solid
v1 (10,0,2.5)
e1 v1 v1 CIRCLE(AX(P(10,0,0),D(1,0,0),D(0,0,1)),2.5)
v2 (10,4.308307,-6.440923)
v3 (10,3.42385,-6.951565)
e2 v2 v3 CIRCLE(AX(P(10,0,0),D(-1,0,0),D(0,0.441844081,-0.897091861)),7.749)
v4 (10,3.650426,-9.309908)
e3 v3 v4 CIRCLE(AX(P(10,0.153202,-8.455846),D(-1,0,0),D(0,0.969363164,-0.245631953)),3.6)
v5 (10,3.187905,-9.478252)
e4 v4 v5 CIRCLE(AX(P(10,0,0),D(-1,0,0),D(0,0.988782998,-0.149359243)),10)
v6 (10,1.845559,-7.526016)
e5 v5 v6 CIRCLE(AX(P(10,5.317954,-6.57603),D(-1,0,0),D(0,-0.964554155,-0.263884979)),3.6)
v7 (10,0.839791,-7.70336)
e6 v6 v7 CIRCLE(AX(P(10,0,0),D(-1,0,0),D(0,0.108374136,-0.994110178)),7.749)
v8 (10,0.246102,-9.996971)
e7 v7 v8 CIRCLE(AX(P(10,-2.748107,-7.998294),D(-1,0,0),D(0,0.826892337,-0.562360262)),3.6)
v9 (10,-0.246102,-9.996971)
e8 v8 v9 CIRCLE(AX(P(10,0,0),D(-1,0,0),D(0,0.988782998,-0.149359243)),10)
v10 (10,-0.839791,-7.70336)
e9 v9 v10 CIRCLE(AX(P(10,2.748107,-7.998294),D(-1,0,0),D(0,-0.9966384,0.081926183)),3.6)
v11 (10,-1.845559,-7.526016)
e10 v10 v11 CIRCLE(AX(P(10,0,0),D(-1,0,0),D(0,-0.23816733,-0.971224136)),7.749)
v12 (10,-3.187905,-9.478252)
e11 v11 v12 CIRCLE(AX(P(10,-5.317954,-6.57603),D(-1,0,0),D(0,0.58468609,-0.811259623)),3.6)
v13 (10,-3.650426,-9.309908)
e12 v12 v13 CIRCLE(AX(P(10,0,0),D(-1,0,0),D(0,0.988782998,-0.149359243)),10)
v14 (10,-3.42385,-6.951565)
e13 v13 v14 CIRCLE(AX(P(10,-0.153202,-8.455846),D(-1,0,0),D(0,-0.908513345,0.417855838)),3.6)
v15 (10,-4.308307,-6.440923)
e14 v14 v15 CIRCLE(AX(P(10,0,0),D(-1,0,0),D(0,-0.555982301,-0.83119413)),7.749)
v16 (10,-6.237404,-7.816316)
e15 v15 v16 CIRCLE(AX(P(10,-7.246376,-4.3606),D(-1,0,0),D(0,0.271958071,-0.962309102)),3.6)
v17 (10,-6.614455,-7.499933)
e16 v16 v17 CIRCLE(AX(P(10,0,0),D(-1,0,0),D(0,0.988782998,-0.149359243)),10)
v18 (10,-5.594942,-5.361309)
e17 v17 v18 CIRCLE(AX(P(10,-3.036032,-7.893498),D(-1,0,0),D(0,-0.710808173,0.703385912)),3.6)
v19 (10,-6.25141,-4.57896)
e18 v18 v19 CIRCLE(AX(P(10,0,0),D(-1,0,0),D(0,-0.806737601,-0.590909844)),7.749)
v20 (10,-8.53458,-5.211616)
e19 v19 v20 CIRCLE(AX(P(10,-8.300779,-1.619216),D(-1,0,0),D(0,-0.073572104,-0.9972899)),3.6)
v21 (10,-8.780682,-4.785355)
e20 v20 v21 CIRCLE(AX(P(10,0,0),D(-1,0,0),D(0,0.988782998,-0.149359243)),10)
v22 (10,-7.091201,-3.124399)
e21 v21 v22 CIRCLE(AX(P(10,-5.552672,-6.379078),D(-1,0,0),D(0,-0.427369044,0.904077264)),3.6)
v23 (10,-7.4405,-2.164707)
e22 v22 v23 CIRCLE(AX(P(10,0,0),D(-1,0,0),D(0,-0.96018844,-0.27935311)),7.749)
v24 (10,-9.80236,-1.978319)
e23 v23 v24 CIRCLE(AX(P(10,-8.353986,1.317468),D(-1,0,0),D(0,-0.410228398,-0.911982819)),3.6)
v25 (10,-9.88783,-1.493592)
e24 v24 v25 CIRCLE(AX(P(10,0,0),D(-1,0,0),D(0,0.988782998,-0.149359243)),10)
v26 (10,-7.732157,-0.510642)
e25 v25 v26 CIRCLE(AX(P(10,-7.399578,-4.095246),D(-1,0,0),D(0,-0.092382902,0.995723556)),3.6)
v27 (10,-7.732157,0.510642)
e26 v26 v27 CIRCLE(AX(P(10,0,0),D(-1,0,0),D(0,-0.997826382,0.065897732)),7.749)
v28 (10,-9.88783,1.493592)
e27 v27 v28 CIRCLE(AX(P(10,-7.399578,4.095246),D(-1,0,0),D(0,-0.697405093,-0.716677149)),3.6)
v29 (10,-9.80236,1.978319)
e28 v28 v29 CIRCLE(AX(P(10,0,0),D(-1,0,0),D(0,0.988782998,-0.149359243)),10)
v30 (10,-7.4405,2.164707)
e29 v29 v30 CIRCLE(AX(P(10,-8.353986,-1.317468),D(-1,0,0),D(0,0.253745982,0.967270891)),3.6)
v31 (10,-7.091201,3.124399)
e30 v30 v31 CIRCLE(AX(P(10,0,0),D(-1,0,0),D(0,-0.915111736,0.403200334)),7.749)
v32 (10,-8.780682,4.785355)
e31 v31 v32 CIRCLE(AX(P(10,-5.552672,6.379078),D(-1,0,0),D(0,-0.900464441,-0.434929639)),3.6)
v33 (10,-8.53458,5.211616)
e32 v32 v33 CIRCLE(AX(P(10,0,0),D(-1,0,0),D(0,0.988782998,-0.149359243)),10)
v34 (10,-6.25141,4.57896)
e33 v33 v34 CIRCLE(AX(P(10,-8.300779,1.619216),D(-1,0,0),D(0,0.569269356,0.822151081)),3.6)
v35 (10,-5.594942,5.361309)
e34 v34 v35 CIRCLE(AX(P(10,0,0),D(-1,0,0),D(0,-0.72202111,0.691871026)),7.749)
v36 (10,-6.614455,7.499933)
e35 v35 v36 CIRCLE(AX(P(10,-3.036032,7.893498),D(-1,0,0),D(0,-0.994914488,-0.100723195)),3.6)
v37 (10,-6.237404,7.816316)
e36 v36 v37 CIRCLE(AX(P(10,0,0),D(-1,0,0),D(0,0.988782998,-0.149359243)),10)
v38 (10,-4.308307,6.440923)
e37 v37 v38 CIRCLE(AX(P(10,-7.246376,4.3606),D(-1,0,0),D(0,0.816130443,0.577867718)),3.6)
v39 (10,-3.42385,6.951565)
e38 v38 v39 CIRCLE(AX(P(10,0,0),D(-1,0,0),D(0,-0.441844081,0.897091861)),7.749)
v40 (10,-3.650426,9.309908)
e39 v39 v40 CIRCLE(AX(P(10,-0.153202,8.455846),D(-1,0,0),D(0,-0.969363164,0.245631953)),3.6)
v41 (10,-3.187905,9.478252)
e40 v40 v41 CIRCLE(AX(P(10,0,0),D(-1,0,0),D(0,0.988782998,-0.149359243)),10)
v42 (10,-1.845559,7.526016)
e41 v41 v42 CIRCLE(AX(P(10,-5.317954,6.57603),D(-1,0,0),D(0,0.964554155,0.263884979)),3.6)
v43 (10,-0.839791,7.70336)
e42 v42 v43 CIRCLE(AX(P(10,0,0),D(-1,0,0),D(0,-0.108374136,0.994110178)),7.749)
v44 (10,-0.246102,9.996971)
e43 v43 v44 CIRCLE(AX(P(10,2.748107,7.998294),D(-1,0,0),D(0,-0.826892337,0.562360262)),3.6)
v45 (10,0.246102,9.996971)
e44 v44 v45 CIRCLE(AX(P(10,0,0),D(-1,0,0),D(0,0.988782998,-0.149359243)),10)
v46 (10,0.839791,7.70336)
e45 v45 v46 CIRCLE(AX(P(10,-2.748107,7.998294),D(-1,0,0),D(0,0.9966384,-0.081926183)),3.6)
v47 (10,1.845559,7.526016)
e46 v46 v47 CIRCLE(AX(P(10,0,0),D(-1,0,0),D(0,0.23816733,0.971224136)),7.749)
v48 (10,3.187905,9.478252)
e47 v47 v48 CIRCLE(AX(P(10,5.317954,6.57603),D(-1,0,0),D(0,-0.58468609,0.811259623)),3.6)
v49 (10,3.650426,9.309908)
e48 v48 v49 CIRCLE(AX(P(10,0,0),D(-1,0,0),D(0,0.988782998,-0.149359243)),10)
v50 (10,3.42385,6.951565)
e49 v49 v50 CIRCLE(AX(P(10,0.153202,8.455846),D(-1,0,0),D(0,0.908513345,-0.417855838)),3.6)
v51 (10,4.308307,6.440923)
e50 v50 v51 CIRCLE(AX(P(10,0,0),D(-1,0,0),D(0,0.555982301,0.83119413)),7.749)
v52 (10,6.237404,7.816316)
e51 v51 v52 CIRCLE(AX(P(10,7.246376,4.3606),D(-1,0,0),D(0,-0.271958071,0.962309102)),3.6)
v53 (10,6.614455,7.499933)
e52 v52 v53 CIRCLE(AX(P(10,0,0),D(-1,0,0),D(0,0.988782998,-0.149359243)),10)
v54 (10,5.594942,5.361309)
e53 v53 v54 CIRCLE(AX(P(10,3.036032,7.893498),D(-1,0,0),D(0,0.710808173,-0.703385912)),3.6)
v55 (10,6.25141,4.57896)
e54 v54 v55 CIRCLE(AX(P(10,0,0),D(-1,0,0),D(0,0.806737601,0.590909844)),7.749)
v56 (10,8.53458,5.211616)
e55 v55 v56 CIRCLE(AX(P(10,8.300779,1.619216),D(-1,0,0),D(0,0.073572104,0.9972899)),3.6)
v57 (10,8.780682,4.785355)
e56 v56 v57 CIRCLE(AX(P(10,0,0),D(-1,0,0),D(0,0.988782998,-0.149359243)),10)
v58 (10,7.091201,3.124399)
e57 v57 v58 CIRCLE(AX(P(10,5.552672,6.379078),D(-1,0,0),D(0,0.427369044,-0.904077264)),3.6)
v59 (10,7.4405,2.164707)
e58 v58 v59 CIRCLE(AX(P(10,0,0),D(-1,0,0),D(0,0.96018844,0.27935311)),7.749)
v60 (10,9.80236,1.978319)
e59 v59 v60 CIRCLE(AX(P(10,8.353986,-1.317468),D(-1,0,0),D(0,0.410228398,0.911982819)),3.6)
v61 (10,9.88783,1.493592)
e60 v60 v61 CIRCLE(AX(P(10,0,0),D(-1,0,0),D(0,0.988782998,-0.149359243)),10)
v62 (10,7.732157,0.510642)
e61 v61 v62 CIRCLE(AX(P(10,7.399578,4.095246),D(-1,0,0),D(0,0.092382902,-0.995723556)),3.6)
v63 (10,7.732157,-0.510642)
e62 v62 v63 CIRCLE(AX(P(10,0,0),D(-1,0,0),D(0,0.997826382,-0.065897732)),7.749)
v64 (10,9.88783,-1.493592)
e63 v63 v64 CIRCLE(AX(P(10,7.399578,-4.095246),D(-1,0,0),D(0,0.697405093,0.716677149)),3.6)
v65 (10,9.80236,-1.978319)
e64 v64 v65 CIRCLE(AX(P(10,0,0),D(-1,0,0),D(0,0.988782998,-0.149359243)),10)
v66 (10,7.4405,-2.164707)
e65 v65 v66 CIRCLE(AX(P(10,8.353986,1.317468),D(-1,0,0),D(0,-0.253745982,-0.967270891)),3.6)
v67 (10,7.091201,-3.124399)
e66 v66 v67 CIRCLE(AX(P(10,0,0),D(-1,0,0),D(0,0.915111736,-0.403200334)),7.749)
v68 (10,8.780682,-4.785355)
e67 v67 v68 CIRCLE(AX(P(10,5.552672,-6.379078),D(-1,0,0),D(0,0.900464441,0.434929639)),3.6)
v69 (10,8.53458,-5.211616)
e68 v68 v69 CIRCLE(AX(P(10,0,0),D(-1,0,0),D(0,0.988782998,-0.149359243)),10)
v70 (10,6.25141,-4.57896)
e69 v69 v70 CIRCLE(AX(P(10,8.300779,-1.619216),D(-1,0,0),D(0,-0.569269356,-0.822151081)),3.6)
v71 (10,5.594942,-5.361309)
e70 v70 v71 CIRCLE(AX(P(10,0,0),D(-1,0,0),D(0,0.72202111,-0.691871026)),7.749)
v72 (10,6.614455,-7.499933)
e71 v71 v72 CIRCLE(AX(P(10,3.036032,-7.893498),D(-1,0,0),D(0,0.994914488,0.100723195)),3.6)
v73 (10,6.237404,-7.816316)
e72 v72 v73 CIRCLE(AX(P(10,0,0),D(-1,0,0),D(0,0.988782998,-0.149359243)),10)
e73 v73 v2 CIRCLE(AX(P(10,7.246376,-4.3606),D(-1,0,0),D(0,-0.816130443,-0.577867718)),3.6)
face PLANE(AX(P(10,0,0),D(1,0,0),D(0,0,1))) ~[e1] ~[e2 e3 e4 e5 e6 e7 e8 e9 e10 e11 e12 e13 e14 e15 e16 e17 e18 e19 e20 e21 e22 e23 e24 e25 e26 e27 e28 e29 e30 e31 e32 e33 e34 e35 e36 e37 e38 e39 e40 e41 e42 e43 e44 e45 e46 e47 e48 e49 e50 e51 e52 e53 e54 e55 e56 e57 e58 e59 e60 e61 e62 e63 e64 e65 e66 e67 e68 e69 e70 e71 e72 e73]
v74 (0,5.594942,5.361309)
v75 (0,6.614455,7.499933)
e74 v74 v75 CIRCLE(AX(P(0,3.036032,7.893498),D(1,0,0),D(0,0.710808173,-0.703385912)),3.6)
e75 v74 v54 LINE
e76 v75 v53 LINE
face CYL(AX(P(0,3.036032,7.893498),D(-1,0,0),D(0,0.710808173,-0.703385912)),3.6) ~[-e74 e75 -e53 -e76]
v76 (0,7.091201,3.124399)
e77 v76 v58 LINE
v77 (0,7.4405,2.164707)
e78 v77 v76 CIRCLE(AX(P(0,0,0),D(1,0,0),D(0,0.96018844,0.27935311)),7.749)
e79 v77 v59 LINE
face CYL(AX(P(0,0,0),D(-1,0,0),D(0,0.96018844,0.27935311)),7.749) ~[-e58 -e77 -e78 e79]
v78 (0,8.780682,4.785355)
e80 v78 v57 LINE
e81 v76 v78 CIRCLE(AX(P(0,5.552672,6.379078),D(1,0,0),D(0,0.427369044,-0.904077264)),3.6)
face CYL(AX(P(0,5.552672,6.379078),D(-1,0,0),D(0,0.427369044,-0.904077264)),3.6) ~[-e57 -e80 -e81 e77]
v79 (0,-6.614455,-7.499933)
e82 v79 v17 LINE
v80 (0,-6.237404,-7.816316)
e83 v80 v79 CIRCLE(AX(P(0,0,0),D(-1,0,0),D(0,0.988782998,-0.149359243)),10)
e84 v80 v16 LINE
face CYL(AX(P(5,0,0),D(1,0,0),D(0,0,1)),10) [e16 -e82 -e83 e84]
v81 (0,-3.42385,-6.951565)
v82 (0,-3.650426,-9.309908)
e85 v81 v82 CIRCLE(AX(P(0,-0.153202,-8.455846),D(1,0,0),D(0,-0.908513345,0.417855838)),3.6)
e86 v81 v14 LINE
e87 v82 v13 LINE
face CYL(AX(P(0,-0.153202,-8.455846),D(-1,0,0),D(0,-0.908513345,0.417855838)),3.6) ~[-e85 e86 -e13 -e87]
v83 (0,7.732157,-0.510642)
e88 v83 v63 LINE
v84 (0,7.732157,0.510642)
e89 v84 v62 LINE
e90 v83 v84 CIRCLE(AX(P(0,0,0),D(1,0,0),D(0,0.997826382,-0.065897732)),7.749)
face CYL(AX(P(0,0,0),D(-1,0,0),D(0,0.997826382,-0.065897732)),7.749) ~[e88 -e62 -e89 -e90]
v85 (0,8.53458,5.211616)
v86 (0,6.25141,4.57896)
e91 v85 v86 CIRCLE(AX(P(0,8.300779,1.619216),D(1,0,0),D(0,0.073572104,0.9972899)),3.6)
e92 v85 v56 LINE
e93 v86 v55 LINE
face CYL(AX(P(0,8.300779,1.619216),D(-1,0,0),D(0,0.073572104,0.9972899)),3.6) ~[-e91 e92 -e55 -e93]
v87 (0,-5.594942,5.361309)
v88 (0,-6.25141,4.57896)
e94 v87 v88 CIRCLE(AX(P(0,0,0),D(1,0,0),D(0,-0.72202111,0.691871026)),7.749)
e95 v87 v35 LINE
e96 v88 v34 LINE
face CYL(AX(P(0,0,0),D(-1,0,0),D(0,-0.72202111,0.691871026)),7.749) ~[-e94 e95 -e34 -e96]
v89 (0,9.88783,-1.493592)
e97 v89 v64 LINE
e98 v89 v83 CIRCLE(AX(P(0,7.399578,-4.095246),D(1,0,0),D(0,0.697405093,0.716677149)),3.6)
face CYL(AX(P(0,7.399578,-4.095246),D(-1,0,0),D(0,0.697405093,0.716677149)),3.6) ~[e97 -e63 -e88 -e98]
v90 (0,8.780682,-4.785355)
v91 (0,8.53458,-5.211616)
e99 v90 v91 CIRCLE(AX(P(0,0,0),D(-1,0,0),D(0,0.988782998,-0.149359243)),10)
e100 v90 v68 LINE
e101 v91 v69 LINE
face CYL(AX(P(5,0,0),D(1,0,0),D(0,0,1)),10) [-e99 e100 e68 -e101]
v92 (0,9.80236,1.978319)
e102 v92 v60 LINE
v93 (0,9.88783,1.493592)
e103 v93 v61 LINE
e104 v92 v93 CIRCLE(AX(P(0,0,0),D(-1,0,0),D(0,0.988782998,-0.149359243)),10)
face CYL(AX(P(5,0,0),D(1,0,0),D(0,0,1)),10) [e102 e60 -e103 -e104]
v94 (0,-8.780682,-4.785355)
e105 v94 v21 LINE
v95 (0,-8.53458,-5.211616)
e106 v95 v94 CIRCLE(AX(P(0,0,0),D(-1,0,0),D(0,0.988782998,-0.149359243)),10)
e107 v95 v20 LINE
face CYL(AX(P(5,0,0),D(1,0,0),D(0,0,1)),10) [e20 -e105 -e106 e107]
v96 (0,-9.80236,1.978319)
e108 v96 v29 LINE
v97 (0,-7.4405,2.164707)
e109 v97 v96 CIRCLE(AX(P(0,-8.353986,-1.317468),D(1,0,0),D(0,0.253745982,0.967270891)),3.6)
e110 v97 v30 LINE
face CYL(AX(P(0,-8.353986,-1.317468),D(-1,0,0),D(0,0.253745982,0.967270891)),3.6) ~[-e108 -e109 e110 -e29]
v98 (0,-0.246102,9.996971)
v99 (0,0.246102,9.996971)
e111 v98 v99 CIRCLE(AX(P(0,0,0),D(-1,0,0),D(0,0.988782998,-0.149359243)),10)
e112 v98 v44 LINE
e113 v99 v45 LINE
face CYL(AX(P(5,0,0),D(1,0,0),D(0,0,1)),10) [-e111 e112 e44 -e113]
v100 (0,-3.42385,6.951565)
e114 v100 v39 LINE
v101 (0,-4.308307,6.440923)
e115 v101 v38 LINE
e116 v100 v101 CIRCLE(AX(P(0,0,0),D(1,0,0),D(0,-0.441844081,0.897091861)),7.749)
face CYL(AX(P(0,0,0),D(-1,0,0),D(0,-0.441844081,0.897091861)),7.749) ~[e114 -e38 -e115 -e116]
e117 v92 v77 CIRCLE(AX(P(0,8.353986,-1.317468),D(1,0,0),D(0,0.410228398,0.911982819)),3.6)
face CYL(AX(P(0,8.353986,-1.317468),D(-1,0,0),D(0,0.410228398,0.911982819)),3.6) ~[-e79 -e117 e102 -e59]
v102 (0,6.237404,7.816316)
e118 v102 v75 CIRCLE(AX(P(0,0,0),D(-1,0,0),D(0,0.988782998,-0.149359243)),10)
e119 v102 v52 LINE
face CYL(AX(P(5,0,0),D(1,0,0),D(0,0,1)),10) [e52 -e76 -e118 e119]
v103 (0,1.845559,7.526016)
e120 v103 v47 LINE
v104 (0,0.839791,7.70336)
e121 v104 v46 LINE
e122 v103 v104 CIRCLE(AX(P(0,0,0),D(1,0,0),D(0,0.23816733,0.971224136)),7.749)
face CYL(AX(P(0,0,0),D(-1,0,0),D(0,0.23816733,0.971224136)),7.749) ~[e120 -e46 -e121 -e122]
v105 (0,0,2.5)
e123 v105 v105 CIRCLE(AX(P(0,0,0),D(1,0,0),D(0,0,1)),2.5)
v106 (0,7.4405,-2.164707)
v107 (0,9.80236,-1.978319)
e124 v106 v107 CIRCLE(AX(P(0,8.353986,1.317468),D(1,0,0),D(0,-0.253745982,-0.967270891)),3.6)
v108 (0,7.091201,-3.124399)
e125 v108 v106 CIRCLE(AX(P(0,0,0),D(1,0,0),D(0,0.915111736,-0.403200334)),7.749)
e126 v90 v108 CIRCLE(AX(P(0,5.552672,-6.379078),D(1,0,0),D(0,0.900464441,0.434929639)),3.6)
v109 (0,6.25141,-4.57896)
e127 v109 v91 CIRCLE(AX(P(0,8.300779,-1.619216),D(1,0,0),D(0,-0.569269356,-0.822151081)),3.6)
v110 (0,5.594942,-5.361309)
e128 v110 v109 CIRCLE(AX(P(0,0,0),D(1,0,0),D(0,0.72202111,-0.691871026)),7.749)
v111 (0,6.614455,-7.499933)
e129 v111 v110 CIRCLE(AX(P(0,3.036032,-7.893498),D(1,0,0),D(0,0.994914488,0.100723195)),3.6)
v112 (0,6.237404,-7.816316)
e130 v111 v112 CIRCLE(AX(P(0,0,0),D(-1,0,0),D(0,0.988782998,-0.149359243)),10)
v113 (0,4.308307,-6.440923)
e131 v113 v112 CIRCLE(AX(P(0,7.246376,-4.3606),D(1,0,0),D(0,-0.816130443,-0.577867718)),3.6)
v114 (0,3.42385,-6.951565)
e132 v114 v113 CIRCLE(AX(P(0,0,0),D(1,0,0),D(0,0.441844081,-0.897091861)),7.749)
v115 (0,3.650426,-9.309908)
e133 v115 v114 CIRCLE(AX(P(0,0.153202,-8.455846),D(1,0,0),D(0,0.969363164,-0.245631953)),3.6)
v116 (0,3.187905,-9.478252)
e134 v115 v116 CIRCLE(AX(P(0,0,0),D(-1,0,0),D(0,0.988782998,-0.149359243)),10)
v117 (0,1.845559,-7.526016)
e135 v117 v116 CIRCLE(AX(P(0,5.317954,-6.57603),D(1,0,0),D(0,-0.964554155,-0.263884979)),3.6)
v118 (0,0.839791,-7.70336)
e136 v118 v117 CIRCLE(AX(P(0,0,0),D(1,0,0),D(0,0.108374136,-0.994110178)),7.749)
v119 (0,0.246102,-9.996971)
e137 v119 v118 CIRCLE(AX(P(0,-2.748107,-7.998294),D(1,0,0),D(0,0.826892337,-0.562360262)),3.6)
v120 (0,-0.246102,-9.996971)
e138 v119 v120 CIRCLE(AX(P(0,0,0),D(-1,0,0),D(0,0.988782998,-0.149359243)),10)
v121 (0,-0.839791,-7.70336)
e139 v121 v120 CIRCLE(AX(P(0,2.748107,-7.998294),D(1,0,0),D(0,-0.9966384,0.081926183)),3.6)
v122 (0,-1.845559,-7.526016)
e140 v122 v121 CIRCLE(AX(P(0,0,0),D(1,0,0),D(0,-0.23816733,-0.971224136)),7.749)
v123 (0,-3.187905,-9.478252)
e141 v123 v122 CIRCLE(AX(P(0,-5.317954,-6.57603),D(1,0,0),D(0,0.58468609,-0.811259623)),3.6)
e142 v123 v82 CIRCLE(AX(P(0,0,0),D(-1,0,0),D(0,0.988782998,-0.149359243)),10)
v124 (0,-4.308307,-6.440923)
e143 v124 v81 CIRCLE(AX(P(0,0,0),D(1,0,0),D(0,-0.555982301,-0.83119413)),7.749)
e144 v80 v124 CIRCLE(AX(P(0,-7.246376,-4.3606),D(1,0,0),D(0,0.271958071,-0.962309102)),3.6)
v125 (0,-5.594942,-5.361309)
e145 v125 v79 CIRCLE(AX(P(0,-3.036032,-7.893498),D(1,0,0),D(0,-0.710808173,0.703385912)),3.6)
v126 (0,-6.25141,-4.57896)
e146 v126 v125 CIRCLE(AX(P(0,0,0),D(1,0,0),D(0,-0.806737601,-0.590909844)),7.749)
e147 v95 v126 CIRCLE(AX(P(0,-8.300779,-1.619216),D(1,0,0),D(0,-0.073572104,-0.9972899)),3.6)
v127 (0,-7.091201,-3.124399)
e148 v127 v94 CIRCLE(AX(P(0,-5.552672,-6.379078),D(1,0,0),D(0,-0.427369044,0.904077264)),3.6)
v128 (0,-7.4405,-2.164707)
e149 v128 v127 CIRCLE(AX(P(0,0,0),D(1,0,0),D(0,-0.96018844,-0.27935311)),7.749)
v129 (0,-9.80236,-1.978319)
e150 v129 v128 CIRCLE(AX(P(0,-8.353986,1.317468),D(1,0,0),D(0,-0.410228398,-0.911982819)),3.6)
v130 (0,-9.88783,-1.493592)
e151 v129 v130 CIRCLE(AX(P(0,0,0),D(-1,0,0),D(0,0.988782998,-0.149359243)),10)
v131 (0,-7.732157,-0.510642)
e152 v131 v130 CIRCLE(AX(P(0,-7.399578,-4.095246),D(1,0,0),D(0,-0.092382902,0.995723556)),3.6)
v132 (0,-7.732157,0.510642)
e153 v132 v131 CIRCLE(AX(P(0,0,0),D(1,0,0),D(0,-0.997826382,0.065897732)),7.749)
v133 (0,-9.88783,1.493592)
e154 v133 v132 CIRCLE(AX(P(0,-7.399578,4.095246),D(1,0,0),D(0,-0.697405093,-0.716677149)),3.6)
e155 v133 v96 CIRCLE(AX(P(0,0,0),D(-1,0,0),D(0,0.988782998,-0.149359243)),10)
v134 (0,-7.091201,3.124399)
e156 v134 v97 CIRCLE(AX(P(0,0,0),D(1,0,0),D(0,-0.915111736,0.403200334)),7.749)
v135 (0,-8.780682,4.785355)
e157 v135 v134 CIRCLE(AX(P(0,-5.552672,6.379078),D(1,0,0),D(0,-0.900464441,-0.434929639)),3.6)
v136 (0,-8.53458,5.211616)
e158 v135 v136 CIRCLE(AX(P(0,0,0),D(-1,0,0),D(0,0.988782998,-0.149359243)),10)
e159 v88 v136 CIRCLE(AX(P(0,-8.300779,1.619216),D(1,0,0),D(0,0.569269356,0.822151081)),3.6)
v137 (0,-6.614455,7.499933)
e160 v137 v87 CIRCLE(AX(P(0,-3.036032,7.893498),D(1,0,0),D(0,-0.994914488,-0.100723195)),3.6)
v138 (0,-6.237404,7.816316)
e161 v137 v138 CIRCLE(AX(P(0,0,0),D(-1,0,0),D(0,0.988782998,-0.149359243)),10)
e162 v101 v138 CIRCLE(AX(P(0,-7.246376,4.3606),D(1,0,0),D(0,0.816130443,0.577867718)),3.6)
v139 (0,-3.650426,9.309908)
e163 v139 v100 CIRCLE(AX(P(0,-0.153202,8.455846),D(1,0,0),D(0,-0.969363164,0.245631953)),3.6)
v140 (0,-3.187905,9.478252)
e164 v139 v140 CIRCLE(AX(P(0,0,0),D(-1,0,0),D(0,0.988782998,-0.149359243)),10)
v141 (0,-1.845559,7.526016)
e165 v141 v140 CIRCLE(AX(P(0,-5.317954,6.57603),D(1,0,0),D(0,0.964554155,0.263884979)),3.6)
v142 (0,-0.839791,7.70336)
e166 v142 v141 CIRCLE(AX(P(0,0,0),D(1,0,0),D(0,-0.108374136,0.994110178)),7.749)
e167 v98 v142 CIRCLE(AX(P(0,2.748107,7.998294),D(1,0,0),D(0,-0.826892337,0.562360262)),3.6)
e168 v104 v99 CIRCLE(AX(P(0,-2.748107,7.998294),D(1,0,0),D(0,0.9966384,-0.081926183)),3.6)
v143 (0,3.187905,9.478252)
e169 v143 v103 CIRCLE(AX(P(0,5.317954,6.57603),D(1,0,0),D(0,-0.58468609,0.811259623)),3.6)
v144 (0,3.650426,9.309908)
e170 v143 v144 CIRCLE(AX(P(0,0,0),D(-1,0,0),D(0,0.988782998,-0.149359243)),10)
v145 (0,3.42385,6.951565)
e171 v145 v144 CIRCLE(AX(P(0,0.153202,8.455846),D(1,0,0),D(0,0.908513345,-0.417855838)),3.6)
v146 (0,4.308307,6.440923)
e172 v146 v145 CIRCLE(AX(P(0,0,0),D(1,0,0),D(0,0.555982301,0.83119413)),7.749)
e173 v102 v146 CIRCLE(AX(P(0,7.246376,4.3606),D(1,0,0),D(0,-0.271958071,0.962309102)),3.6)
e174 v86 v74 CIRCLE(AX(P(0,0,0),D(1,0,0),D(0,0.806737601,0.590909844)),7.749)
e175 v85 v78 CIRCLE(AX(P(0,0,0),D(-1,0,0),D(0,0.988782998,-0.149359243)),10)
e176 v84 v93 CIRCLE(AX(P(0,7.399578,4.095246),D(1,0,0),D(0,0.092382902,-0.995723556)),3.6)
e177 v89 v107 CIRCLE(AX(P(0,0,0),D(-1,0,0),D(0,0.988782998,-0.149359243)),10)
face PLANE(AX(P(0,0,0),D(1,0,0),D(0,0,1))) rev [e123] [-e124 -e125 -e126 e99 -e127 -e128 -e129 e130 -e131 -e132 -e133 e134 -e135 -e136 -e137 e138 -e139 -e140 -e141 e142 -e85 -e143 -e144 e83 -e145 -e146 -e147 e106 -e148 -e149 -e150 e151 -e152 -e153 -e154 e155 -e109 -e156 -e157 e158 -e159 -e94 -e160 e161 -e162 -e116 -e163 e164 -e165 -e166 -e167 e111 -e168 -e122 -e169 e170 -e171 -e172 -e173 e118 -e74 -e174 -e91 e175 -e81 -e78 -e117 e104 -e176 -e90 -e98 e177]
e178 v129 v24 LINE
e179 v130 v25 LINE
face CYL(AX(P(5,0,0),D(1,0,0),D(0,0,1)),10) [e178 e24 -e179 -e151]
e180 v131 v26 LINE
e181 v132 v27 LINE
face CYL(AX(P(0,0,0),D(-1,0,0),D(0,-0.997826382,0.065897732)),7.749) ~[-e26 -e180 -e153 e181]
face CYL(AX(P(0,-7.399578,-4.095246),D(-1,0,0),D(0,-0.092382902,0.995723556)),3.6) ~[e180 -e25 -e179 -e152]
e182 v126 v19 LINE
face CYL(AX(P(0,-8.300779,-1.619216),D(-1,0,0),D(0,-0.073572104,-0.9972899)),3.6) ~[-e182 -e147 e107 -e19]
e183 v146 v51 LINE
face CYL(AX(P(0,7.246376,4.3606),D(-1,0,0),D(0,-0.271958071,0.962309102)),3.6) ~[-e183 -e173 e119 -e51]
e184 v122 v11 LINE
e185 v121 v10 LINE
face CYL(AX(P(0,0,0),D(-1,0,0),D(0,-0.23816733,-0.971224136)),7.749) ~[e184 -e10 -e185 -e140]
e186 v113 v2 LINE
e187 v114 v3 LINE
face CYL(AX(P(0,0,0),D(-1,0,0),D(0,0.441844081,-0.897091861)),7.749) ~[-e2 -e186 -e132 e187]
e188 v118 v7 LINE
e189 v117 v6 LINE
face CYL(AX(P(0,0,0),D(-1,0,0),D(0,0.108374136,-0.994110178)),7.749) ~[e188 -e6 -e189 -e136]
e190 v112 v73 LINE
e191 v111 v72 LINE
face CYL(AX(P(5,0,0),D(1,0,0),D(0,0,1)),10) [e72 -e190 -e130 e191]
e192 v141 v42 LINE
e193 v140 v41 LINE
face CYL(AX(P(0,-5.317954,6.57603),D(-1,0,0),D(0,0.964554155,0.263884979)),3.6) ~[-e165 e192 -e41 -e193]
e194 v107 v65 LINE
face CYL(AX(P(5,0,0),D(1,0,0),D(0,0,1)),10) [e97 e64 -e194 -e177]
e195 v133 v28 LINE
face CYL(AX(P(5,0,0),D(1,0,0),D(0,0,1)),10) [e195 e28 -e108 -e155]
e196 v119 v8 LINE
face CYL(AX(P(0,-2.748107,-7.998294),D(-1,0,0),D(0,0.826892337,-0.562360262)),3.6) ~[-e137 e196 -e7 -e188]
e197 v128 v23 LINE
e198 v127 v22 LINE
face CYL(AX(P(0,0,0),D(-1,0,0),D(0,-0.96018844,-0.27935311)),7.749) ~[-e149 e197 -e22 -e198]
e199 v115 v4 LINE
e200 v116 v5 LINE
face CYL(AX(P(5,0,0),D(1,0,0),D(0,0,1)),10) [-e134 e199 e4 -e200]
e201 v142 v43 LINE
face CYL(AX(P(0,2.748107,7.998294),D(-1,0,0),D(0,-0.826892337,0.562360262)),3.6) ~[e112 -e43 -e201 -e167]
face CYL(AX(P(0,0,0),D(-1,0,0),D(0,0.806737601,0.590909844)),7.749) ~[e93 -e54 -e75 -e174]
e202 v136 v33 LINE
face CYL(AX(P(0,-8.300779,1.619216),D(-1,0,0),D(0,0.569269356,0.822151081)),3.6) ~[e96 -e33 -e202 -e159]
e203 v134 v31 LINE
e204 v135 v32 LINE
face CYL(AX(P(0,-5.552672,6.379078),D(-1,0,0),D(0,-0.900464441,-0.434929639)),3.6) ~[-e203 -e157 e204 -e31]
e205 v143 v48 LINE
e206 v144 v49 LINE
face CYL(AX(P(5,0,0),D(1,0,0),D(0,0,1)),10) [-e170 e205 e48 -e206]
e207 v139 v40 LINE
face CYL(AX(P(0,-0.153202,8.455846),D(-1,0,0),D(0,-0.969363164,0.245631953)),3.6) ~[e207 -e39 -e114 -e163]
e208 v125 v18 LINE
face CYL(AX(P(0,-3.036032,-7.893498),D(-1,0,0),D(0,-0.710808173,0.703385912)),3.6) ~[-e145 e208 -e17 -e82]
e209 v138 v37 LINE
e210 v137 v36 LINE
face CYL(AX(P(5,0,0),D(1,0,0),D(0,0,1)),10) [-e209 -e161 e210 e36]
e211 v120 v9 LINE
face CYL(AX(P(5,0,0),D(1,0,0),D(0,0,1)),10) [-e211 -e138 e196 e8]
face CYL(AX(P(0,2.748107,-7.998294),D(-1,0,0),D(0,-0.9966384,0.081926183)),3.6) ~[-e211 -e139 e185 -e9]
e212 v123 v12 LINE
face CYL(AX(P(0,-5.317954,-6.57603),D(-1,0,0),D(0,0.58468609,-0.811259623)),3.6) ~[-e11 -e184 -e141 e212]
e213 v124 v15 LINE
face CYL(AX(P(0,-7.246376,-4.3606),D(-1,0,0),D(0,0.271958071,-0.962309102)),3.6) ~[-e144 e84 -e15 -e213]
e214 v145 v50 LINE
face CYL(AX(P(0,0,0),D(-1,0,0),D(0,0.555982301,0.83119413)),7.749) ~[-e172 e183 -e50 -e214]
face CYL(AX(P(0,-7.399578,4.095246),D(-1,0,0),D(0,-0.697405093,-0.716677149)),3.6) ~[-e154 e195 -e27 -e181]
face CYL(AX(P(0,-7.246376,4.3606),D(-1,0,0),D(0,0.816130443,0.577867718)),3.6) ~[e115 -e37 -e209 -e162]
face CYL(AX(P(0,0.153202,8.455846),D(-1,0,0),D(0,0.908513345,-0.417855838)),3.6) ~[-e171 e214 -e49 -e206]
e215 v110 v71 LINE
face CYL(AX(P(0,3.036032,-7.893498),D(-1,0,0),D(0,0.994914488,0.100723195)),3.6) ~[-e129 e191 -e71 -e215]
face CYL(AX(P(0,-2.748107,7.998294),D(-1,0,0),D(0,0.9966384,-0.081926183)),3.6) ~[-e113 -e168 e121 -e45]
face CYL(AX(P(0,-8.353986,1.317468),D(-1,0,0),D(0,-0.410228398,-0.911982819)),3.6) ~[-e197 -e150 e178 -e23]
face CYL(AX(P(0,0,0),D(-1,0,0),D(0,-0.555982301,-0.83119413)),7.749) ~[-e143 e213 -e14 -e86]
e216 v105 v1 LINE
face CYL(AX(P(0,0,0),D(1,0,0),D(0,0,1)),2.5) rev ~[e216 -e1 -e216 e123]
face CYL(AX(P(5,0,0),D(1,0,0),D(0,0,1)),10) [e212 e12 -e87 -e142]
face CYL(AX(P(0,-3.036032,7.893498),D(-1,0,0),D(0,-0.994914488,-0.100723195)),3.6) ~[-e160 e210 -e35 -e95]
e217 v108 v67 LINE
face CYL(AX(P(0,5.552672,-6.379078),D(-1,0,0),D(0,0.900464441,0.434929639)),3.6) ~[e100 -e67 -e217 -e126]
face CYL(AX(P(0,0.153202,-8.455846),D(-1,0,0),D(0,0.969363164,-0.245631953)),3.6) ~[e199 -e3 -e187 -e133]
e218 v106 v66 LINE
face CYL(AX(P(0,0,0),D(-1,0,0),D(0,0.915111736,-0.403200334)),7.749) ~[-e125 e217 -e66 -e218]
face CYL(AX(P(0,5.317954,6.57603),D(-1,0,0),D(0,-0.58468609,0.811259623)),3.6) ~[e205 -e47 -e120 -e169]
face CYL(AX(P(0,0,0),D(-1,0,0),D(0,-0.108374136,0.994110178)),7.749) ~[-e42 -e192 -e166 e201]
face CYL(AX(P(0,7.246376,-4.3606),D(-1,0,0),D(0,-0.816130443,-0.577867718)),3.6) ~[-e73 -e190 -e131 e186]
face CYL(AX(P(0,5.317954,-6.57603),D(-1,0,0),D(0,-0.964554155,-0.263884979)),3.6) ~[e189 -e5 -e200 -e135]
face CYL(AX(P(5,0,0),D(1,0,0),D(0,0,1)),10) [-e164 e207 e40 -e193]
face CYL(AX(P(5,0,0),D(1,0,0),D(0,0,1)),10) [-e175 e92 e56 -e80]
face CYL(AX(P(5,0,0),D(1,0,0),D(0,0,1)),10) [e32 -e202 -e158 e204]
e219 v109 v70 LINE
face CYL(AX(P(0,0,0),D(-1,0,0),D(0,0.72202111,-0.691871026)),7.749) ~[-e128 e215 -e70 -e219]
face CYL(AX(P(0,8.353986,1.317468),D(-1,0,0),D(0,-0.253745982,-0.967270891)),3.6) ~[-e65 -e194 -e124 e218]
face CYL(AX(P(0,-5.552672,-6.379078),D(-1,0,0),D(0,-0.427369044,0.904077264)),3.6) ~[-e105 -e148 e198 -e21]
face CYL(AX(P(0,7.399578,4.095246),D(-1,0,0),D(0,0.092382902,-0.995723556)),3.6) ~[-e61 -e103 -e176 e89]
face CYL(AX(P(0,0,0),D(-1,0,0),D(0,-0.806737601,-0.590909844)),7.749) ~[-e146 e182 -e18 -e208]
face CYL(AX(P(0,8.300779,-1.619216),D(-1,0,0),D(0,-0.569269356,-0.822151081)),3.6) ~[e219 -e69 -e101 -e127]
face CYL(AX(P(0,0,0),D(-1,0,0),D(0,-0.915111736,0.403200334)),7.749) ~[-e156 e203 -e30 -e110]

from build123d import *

# Parameters (mm, degrees)
BASPROSKE_W     = 10
BASPROSKE_H     = 10
TOOTHCUT_DEPTH  = 18.320508076
TEETHCUTS_COUNT = 18
TEETHCUTS_ANGLE = 340
BORSKE_R        = 2.5
BORE_DEPTH      = 50.0000508


with BuildPart() as part:
    # BasProSke → Base-Revolve (revolve)
    with BuildSketch(Plane(origin=(0, 0, 0), x_dir=(1, 0, 0), z_dir=(0, 1, 0)), mode=Mode.PRIVATE) as base_revolve_sk:
        with Locations((5, 5)):
            Rectangle(BASPROSKE_W, BASPROSKE_H)
    revolve(base_revolve_sk.sketch.rotate(Axis((-10, 0, 0), (1, 0, 0)), 180), axis=Axis((-10, 0, 0), (1, 0, 0)))

    # TooCutSke → ToothCut (cut, through all)
    with BuildSketch(Plane(origin=(0, 0, 0), x_dir=(0, 0, -1), z_dir=(1, 0, 0))):
        with BuildLine():
            ThreePointArc((0.510641536, 7.732156635), (0, 7.749), (-0.510641536, 7.732156635))
            ThreePointArc((-0.510641536, 7.732156635), (-0.82619259, 8.907320741), (-1.515208602, 9.910236529))
            ThreePointArc((-1.515208602, 9.910236529), (0, 10.0254), (1.515208602, 9.910236529))
            ThreePointArc((1.515208602, 9.910236529), (0.82619259, 8.907320741), (0.510641536, 7.732156635))
        make_face()
    toothcut = extrude(amount=TOOTHCUT_DEPTH, mode=Mode.SUBTRACT)

    # TeethCuts: ToothCut ×18 about axis
    teethcuts_axis = Axis((-10, 0, 0), (1, 0, 0))
    for i in range(1, TEETHCUTS_COUNT):
        add(toothcut.rotate(teethcuts_axis, i * TEETHCUTS_ANGLE / (TEETHCUTS_COUNT - 1)), mode=Mode.SUBTRACT)

    # BorSke → Bore (cut, symmetric)
    with BuildSketch(Plane(origin=(0, 0, 0), x_dir=(0, 0, -1), z_dir=(1, 0, 0))):
        with Locations(Location((0, 0, 0), (0, 0, 180))):
            Circle(BORSKE_R)
    extrude(amount=BORE_DEPTH, both=True, mode=Mode.SUBTRACT)


solid = part.part
